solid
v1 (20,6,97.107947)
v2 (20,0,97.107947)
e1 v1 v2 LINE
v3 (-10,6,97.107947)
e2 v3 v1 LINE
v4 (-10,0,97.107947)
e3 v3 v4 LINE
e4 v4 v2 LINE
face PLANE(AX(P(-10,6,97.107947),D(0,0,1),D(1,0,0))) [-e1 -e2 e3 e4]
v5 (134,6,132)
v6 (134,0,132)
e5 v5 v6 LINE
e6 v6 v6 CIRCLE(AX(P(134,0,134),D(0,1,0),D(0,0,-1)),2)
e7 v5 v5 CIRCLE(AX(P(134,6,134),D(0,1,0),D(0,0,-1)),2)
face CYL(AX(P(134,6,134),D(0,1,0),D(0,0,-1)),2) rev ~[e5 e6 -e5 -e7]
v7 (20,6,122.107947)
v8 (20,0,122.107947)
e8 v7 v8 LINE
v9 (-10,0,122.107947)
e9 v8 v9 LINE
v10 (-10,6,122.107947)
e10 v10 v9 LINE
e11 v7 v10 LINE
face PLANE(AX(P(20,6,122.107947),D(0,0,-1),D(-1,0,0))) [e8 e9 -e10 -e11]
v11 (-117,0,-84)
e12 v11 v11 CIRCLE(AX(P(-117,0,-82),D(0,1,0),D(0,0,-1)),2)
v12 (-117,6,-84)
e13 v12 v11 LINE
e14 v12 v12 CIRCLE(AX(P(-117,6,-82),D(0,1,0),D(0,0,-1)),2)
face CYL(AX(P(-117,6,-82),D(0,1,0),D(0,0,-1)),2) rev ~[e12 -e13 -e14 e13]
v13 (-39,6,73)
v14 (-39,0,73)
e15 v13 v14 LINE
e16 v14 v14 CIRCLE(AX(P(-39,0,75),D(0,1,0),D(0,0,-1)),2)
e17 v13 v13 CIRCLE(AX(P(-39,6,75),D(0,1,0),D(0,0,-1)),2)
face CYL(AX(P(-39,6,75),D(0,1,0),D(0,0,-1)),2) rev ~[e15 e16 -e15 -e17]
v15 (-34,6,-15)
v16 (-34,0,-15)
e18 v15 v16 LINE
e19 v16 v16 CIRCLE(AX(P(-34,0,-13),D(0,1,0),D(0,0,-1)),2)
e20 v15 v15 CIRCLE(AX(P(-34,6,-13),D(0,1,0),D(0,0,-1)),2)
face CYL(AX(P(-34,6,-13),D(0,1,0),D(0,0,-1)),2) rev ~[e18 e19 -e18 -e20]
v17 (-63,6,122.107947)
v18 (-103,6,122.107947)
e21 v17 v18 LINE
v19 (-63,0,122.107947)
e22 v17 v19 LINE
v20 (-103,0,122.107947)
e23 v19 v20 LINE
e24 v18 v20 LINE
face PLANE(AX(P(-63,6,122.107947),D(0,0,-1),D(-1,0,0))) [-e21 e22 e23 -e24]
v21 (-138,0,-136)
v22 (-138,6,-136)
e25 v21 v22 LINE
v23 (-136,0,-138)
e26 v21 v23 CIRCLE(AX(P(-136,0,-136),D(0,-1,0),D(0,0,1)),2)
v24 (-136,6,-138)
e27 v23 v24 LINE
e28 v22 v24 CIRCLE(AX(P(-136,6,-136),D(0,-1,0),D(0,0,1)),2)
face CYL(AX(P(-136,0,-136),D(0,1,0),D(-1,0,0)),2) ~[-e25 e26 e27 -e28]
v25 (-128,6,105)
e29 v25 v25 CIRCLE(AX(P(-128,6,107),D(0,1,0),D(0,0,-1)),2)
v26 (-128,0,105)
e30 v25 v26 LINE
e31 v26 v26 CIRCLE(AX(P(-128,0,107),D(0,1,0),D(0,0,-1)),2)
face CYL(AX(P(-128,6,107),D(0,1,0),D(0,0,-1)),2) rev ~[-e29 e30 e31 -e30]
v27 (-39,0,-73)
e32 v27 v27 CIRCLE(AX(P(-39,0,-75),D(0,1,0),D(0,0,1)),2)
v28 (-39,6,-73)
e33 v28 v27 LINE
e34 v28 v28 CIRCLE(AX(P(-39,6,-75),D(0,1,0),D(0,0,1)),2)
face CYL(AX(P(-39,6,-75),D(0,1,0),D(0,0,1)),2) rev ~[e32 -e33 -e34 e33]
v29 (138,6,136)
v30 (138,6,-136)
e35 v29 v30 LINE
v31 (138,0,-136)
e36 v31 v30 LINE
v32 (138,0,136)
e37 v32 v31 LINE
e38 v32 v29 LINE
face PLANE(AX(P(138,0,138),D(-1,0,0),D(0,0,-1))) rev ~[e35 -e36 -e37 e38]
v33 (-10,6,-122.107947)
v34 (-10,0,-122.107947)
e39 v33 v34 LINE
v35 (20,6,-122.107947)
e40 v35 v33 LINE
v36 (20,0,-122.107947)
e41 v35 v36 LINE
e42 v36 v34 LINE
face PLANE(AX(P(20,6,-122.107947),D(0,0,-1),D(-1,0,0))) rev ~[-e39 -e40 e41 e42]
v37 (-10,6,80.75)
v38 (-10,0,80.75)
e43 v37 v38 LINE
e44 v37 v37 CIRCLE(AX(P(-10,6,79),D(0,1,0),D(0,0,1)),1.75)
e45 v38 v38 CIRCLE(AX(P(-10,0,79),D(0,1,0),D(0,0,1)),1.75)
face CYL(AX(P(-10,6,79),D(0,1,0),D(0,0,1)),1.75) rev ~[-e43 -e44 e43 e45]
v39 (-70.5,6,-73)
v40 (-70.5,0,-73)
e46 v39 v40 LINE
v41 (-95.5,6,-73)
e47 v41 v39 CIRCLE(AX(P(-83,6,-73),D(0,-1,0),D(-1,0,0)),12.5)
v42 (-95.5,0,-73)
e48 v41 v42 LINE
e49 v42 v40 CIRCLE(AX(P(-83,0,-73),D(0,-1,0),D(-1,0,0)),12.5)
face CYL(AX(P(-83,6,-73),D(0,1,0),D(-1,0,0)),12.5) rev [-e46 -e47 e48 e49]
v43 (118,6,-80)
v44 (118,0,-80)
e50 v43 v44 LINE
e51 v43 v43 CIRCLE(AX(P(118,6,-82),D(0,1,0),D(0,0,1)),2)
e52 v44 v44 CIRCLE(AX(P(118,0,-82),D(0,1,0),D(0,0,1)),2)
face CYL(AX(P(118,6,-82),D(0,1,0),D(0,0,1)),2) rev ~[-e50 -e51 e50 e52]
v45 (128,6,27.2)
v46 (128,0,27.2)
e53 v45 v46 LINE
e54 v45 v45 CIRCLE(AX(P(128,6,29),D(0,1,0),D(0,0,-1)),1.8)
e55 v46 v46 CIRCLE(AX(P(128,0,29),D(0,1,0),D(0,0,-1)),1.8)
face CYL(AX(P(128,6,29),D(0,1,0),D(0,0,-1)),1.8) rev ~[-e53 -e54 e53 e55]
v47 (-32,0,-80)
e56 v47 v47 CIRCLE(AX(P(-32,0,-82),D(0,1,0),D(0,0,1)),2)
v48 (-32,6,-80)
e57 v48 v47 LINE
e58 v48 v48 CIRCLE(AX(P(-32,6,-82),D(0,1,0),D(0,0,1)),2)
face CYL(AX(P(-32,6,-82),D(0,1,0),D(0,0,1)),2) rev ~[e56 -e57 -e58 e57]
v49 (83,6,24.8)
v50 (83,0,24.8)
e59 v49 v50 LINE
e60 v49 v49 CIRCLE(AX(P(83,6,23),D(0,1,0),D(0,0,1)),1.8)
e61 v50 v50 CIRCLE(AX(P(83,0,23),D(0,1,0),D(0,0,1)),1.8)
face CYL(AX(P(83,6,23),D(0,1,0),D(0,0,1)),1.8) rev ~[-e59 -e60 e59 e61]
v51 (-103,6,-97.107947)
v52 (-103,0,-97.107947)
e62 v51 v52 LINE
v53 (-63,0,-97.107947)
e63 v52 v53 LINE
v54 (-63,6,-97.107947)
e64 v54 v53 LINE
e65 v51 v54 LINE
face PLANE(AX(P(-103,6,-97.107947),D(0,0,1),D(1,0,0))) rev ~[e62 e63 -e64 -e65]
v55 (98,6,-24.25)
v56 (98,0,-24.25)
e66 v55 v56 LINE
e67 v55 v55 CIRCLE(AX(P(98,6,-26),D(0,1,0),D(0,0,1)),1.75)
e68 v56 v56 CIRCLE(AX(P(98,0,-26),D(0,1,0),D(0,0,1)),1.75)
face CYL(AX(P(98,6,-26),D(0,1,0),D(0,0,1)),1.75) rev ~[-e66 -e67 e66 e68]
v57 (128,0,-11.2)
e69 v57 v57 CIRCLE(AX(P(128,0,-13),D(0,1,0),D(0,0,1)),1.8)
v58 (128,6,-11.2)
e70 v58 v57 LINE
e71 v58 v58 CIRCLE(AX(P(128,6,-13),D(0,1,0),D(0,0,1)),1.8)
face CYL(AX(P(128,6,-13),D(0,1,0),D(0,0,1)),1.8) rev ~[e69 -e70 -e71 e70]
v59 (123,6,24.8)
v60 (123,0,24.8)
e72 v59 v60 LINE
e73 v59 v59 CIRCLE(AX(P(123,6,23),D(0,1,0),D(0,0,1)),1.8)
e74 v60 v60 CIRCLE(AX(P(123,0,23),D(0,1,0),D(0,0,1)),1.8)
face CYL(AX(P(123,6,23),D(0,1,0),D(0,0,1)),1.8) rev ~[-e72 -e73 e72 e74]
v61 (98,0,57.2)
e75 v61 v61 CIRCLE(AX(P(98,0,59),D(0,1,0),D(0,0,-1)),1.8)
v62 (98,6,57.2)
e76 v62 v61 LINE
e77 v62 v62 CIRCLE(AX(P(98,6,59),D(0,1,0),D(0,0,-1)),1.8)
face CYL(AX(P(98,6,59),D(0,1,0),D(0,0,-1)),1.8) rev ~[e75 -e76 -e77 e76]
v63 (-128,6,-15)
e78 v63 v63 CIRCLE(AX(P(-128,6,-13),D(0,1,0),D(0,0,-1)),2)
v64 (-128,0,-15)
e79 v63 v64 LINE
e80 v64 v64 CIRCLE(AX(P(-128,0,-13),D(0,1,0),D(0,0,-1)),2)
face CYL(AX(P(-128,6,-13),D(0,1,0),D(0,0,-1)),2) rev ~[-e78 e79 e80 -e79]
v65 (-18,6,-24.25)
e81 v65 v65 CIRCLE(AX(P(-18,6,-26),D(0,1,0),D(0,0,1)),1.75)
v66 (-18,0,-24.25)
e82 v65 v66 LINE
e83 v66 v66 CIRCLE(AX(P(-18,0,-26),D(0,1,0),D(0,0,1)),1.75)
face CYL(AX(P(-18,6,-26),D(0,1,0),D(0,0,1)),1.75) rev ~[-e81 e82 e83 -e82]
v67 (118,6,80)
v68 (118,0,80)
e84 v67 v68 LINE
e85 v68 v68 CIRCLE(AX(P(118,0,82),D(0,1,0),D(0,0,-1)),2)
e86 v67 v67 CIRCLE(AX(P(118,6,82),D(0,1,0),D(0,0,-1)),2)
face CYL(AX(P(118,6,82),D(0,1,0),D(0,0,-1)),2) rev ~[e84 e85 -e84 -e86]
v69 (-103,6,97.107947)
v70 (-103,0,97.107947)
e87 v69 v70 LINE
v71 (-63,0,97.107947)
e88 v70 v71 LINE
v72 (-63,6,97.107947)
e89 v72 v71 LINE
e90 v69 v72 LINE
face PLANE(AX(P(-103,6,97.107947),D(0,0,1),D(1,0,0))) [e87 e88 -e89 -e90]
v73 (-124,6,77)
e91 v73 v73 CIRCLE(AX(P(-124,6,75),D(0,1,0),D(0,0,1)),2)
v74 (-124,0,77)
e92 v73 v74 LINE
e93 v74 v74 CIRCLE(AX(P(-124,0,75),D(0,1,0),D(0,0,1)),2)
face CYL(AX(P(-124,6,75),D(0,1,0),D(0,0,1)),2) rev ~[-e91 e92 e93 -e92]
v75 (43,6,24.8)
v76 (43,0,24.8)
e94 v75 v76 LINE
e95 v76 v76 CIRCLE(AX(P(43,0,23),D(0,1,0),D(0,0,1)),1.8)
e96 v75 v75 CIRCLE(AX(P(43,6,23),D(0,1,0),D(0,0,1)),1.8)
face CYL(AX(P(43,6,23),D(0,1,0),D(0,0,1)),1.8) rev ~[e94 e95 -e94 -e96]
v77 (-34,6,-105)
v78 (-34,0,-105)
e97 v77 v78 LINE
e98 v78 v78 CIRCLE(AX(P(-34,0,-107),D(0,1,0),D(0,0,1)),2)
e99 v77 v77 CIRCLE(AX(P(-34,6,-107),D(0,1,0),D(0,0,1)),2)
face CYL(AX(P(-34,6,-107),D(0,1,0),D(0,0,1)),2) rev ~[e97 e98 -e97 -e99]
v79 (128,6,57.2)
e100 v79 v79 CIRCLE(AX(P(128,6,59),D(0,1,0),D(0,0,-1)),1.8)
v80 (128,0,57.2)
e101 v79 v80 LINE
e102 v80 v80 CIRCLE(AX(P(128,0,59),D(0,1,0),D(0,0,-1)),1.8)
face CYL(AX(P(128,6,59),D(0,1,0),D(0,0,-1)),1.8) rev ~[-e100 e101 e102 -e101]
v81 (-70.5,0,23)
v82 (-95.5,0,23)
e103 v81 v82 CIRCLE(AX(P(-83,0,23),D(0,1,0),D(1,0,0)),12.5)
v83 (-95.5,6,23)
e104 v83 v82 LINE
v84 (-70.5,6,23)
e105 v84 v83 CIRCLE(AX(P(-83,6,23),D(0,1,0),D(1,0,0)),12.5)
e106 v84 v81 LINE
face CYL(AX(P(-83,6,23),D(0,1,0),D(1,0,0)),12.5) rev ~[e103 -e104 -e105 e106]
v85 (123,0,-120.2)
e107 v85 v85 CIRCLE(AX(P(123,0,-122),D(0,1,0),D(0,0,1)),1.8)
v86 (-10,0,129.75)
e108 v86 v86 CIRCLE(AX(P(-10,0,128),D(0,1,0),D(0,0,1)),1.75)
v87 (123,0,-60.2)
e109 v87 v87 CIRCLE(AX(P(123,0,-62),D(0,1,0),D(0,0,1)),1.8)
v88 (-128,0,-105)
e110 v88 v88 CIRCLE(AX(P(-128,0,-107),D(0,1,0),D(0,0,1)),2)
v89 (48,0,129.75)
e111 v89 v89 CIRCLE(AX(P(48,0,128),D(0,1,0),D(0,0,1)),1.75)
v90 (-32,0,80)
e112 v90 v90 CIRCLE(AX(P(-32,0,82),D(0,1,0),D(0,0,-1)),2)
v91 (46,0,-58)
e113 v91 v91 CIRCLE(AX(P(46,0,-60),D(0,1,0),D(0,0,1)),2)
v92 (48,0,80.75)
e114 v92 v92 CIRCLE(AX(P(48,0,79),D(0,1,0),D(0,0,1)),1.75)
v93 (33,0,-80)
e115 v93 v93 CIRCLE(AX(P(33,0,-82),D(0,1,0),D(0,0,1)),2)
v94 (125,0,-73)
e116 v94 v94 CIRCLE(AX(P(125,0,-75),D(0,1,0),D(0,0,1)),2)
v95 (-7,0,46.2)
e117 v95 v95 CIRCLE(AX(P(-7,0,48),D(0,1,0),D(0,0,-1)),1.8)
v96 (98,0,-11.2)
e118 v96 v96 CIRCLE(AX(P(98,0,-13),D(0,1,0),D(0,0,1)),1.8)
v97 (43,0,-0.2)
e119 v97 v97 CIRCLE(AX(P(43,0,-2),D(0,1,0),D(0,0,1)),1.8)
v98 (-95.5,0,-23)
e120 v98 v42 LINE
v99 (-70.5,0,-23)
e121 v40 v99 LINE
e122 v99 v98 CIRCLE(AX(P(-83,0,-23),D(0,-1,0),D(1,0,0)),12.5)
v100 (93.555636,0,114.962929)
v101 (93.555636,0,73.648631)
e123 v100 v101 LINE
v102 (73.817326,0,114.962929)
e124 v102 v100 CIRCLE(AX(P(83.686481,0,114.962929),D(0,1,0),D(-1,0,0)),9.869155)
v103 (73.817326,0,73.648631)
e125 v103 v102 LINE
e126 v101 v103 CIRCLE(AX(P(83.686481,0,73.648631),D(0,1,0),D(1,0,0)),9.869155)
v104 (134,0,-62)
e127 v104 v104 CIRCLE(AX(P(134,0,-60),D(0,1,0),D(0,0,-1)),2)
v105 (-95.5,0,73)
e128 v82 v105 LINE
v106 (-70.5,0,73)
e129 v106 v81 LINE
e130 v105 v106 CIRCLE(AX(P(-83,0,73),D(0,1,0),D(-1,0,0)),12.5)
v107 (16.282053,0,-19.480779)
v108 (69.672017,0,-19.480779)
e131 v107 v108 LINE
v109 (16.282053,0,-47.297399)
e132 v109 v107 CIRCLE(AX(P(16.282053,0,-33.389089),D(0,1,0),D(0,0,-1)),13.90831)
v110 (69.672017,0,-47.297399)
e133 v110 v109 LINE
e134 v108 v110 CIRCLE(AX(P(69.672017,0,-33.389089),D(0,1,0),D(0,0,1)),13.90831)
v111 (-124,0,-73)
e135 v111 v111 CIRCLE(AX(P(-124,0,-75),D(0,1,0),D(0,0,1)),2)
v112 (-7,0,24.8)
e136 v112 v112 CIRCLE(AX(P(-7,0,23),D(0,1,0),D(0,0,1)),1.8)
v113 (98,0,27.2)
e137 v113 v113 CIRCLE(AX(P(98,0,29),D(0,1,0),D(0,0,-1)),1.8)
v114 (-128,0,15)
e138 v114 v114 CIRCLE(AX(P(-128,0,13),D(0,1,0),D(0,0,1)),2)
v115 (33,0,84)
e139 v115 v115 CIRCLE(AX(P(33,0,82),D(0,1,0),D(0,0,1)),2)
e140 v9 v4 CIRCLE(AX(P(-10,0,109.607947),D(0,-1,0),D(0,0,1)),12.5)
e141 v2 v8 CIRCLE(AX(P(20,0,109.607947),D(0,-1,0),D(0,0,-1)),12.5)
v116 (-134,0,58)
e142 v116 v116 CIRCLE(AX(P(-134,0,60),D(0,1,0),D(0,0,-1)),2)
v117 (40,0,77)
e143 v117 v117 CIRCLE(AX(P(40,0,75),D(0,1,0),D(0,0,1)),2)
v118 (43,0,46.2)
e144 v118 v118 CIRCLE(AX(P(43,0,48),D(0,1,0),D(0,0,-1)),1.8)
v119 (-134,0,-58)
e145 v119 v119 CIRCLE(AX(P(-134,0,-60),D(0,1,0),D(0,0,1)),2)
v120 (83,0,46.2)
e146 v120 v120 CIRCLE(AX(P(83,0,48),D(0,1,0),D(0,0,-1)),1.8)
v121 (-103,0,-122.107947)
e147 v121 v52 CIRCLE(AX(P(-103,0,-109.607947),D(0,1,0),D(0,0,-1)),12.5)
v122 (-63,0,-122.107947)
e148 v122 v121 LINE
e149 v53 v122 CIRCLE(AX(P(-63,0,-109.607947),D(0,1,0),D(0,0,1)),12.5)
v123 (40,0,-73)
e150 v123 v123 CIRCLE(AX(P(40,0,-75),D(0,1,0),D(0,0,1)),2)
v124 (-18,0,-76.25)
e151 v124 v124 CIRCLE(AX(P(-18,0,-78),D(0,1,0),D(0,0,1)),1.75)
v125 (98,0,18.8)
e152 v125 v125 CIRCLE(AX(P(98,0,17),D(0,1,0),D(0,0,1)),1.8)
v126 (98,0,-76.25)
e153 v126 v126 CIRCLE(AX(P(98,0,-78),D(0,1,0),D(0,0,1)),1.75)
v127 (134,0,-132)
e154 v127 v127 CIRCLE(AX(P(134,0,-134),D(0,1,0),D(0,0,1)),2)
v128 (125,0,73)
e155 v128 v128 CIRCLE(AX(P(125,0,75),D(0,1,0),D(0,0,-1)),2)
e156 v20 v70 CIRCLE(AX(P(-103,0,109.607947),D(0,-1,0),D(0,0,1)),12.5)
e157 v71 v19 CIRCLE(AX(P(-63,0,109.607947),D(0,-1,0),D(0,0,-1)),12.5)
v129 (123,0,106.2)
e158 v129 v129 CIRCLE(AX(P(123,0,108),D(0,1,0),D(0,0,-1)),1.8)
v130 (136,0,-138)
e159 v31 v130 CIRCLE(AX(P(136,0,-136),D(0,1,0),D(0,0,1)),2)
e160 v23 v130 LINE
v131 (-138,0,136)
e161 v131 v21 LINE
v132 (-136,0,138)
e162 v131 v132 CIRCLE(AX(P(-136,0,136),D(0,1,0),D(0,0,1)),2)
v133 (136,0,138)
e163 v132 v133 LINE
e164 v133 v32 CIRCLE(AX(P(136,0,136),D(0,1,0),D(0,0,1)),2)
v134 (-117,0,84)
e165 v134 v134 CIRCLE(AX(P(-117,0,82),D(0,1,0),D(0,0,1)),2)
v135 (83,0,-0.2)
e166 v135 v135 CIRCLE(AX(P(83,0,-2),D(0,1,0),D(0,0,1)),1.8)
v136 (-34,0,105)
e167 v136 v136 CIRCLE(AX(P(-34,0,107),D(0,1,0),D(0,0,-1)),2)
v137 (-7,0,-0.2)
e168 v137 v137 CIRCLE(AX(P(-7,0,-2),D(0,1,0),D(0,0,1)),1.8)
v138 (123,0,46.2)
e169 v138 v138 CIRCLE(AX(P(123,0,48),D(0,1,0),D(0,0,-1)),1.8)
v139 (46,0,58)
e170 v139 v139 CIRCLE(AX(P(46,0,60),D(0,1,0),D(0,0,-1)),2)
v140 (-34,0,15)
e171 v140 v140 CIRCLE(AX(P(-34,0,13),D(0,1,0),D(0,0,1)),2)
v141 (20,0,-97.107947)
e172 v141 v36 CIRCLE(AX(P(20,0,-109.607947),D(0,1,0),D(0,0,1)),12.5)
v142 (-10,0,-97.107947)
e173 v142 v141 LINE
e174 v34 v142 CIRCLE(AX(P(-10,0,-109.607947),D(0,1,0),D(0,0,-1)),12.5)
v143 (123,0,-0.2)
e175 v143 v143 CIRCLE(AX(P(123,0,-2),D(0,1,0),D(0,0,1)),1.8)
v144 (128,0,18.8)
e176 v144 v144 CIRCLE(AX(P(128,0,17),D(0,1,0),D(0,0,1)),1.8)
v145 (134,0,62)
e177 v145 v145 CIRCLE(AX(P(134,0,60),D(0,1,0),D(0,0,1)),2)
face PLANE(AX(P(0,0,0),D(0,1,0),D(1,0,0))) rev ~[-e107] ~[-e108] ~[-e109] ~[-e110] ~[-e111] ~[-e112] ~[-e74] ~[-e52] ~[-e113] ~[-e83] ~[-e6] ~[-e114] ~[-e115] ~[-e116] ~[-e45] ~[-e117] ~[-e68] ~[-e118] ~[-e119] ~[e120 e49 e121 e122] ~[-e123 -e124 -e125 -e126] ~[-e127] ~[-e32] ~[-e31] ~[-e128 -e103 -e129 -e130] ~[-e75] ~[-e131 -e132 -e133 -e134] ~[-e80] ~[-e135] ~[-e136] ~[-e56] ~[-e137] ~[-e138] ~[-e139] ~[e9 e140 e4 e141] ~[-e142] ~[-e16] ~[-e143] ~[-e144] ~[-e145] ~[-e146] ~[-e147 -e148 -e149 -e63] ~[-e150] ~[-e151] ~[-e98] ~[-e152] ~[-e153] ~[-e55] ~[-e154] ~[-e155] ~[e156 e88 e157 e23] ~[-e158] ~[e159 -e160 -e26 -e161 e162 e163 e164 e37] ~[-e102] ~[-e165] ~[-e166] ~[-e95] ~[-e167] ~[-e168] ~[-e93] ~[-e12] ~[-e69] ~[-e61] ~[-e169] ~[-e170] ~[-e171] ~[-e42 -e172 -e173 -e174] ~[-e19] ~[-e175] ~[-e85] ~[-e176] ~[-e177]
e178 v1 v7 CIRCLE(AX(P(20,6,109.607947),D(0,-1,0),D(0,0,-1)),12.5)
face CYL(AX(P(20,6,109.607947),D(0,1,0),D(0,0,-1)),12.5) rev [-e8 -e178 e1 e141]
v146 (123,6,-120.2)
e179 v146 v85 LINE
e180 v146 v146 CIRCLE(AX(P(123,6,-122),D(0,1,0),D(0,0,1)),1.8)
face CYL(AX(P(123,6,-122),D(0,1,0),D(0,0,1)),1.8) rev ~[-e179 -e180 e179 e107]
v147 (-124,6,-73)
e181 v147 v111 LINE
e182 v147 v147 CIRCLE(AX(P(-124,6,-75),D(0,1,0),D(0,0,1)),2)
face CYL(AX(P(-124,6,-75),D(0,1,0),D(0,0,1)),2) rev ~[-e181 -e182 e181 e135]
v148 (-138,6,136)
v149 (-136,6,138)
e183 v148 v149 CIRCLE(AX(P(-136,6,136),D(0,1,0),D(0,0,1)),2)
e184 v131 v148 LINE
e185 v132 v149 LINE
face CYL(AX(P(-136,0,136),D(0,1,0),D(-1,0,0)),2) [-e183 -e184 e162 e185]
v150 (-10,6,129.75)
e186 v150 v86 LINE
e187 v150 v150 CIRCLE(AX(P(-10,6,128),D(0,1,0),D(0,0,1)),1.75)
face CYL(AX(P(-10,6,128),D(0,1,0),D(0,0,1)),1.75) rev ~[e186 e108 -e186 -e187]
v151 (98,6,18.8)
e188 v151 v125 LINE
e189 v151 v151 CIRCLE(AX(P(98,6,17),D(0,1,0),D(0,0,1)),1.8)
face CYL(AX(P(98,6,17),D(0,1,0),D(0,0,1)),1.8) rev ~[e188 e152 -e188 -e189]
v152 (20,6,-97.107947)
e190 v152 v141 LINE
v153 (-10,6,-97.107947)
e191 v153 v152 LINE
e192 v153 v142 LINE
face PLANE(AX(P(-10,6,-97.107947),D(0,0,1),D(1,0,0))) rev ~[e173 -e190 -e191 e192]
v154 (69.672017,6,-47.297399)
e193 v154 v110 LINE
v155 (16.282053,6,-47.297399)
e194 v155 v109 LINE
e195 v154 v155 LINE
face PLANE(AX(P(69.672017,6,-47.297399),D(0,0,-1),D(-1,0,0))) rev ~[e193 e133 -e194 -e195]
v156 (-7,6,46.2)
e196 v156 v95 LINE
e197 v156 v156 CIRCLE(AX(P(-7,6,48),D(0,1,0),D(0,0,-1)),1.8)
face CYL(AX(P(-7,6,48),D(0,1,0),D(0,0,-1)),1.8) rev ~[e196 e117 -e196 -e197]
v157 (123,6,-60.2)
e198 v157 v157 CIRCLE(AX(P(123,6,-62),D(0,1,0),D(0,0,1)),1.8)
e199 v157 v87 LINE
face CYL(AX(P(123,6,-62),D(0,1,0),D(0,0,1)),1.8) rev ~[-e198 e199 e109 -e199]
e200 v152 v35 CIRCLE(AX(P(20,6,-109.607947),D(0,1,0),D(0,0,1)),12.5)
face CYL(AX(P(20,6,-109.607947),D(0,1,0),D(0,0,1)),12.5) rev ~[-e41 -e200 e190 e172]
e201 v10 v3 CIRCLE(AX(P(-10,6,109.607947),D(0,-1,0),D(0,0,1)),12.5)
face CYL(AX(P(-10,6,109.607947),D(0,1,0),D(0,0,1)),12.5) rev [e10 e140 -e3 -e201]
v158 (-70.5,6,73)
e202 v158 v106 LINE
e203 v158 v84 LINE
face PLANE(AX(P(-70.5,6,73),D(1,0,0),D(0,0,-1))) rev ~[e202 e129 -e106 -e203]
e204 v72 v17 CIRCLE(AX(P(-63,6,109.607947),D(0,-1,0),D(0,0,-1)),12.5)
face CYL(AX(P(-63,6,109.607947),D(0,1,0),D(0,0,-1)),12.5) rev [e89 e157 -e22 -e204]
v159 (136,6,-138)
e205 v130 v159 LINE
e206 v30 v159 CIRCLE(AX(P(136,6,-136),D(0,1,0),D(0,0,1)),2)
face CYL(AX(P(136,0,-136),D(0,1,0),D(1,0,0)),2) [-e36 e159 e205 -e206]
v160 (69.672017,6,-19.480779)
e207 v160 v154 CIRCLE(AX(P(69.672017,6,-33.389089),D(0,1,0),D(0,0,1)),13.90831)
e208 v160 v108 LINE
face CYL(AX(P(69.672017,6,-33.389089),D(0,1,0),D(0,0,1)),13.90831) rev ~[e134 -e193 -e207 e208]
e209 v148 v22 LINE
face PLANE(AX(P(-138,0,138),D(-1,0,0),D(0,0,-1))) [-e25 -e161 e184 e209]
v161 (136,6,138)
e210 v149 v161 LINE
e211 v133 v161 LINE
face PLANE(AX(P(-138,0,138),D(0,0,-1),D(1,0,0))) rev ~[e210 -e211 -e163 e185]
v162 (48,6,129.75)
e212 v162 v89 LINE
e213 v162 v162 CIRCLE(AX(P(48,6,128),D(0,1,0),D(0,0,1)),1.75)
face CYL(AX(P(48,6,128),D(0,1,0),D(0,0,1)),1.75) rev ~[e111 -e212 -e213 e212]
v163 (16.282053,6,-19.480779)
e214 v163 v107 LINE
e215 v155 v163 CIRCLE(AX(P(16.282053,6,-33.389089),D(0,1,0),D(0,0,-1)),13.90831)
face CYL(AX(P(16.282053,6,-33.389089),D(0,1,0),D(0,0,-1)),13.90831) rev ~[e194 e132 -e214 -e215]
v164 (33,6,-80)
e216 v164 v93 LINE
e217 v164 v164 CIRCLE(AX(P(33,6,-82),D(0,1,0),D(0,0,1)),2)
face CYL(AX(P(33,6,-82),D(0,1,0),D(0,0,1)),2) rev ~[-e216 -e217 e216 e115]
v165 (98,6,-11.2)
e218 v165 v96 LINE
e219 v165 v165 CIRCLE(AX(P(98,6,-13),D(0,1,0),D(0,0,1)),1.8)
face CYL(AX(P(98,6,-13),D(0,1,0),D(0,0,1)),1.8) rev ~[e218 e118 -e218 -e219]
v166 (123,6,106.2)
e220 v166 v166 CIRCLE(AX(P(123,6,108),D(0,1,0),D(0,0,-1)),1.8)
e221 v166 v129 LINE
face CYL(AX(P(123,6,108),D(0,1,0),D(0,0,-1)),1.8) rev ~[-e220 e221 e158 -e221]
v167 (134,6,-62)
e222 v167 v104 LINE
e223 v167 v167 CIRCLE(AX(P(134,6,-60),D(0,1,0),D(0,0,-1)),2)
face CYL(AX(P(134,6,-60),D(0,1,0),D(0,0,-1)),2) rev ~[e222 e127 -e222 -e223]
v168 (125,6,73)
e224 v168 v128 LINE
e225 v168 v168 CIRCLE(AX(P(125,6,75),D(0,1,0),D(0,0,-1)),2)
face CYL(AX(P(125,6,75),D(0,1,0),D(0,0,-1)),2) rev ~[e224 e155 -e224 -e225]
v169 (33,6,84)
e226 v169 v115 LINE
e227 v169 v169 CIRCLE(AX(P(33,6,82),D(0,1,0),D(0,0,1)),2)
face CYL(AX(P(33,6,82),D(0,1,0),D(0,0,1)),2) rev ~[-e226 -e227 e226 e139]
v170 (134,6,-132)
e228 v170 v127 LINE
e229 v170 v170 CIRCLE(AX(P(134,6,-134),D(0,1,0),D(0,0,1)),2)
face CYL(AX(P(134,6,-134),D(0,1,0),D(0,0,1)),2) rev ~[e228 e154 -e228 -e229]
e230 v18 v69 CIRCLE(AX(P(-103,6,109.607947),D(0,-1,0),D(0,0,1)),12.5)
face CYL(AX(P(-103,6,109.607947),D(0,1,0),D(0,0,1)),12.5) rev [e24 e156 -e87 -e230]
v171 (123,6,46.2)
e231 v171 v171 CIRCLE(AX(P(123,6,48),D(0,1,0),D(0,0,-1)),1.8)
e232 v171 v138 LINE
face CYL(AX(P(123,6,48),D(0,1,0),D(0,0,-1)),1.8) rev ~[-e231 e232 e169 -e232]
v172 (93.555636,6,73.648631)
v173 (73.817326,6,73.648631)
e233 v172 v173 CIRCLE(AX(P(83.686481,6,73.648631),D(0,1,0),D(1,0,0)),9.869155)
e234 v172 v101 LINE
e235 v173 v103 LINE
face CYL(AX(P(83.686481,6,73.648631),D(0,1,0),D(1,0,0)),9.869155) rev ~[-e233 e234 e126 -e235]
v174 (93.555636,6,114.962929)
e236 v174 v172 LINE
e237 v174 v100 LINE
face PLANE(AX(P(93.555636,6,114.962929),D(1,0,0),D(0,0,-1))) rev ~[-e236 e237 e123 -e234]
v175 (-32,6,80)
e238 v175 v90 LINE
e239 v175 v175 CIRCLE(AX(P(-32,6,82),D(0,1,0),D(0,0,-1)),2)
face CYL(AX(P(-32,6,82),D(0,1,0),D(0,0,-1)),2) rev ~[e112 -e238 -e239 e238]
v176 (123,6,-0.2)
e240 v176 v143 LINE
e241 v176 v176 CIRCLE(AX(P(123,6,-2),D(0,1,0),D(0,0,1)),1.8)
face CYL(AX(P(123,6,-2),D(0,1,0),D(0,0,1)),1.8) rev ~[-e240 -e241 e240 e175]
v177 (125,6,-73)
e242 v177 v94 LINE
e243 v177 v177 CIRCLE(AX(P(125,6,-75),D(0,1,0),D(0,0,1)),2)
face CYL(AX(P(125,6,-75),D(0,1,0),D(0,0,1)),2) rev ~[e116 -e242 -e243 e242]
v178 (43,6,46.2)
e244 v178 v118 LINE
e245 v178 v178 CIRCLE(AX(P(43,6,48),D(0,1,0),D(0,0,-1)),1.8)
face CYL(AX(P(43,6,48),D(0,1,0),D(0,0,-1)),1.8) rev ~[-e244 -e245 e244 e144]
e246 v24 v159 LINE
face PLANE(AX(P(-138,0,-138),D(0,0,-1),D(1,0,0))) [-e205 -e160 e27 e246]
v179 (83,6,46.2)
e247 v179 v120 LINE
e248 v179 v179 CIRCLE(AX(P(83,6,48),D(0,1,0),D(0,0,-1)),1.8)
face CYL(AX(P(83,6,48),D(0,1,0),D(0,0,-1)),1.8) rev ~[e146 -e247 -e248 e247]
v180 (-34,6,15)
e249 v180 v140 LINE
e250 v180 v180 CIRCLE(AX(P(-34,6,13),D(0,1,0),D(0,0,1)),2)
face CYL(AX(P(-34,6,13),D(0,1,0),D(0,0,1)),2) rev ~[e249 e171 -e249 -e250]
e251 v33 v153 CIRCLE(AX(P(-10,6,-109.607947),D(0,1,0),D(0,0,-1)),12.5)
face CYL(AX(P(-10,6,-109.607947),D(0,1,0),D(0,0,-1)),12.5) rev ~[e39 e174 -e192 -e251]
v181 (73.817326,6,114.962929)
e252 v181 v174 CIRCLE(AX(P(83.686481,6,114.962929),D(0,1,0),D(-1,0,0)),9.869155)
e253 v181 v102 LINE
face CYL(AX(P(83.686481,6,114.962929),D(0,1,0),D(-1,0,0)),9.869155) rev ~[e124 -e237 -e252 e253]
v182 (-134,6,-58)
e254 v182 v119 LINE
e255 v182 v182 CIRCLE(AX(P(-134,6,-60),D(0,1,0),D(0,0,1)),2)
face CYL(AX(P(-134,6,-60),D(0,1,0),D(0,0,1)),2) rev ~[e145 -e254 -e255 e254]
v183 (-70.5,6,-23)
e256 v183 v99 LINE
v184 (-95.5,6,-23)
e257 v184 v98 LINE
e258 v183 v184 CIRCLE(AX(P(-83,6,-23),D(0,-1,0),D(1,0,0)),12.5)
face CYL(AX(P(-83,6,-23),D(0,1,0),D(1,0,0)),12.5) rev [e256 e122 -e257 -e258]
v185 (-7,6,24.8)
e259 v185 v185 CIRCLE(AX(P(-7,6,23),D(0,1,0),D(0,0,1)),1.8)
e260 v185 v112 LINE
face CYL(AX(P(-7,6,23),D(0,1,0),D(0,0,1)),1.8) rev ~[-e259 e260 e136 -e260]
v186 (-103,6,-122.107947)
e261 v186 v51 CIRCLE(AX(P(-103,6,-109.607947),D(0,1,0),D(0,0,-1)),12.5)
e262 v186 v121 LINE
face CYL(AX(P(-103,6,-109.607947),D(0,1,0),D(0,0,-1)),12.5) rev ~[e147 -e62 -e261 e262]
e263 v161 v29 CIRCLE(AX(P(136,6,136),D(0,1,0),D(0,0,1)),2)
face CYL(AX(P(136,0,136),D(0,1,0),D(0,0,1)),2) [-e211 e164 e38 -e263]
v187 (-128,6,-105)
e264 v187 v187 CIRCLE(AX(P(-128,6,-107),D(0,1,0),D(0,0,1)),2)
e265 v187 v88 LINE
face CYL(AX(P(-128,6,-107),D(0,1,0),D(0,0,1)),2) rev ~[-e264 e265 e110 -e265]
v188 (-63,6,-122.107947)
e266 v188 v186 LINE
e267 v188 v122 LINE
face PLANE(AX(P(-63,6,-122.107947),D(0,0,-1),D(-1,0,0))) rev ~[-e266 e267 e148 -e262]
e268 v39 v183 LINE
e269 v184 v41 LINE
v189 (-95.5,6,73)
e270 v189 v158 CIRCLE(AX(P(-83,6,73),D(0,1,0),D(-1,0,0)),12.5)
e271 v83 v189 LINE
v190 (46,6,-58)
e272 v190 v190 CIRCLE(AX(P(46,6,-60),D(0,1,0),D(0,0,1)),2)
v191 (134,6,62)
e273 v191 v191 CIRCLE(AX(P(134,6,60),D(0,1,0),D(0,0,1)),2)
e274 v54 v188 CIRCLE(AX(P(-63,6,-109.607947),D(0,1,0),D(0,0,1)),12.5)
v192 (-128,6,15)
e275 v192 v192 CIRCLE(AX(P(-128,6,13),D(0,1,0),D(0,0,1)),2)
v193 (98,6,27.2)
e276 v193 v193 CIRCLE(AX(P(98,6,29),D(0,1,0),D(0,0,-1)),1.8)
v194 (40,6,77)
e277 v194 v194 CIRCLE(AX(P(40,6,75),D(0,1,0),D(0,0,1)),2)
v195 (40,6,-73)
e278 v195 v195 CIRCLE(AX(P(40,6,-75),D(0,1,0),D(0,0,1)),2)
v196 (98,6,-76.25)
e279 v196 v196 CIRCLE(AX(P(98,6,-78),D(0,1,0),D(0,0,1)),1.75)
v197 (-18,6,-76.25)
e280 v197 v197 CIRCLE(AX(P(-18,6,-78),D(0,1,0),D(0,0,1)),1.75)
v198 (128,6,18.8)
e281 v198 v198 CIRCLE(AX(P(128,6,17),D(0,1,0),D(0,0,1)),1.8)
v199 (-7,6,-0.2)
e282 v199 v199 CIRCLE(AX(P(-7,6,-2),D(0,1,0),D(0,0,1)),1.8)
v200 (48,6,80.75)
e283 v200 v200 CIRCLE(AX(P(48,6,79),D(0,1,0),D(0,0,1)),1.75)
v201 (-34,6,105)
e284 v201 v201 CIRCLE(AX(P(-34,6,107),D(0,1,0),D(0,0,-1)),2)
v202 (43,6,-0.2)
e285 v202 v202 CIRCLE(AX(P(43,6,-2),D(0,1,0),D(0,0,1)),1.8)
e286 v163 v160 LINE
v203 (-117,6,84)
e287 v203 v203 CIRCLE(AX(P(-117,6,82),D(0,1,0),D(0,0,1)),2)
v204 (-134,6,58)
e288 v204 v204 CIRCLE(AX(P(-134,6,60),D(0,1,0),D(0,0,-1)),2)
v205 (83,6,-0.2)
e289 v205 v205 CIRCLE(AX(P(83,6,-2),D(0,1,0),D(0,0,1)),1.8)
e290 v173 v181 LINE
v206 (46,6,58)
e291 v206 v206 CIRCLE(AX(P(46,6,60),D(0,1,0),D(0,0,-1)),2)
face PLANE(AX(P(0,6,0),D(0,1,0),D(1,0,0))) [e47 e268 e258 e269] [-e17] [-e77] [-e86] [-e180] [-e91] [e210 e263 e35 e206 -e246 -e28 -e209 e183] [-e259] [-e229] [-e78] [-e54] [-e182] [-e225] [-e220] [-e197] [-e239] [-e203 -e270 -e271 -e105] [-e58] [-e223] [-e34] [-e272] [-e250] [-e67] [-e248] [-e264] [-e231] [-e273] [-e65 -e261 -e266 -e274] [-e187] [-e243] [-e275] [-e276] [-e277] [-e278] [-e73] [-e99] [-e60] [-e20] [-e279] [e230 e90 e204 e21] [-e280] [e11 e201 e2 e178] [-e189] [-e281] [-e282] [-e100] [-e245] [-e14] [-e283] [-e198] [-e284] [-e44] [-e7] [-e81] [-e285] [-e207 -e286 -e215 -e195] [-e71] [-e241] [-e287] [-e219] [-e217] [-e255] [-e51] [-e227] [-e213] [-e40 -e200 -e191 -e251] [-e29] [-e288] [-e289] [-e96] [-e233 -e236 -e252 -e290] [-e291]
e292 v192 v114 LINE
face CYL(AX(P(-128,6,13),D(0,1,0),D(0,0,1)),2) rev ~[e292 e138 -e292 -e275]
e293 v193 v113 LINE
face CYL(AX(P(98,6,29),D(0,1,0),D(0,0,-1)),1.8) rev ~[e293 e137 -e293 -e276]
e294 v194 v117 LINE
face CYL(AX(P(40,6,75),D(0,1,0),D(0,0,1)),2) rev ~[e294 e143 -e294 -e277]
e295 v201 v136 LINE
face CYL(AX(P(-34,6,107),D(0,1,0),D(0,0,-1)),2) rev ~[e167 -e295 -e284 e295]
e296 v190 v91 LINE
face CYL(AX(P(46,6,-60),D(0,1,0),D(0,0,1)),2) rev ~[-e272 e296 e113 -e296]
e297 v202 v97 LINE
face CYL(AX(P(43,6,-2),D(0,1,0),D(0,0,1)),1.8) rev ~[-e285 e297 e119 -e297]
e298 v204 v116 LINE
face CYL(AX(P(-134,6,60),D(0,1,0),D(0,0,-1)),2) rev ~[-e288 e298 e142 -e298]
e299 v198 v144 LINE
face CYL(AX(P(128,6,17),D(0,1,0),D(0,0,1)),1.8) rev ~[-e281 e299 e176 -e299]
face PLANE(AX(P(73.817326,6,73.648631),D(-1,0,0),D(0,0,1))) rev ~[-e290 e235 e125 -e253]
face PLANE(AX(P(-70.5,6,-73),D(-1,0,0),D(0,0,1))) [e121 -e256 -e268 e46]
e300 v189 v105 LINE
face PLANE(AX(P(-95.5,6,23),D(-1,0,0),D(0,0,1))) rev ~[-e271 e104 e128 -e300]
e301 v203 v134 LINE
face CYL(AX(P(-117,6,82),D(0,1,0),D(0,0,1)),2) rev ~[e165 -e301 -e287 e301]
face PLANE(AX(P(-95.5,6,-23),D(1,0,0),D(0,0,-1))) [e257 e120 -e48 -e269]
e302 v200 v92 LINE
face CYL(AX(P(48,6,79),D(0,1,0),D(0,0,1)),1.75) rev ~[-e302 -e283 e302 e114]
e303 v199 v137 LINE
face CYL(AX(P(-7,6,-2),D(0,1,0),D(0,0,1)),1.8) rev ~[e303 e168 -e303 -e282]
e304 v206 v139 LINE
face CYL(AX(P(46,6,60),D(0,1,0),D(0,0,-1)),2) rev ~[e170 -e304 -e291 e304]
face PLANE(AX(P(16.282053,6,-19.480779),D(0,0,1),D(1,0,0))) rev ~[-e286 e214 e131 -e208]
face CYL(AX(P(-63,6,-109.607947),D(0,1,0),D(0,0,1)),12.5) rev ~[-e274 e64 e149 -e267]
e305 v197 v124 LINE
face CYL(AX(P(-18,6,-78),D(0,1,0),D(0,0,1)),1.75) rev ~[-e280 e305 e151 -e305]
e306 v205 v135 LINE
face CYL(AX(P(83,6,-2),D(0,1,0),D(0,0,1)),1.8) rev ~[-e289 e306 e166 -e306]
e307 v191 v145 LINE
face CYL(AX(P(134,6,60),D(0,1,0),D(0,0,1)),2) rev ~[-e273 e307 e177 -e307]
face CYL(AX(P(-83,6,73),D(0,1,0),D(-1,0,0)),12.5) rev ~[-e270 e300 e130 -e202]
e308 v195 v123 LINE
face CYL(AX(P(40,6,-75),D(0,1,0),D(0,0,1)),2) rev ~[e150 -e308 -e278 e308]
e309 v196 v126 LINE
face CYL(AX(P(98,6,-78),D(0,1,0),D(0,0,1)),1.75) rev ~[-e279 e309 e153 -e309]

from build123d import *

# Parameters (mm, degrees)
SKETCH_1_W                = 276
SKETCH_1_H                = 276
EXTRUDE_1_DEPTH           = 6
FILLET_1_R                = 2
SKETCH_2_R                = 2
CUT_EXTRUDE_1_DEPTH       = 6
SKETCH_3_R                = 2
CUT_EXTRUDE_150_164_DEPTH = 6
SKETCH_4_R                = 2
CUT_EXTRUDE_94_94_DEPTH   = 6
SKETCH_7_R                = 1.75
JETSON_DEPTH              = 6
SKETCH_8_R                = 1.75
CUT_EXTRUDE_7_DEPTH       = 6
SKETCH_9_R                = 1.8
CUT_EXTRUDE_8_DEPTH       = 6
CUT_EXTRUDE_5_DEPTH       = 6


with BuildPart() as part:
    # Эскиз1 → Бобышка-Вытянуть1 (new body)
    with BuildSketch(Plane(origin=(0, 0, 0), x_dir=(1, 0, 0), z_dir=(0, 1, 0))):
        Rectangle(SKETCH_1_W, SKETCH_1_H)
    extrude(amount=EXTRUDE_1_DEPTH)

    # Скругление1
    fillet_1_edges = [part.edges().sort_by_distance(p)[0] for p in [
        (138, 3, 138),
        (-138, 3, 138),
        (-138, 3, -138),
        (138, 3, -138),
    ]]
    fillet(fillet_1_edges, radius=FILLET_1_R)

    # Эскиз2 → Вырез-Вытянуть1 (cut)
    with BuildSketch(Plane(origin=(0, 6, 0), x_dir=(1, 0, 0), z_dir=(0, 1, 0))):
        with Locations(Location((-134, 60, 0), (0, 0, 270))):
            Circle(SKETCH_2_R)
        with Locations(Location((134, 60, 0), (0, 0, 90))):
            Circle(SKETCH_2_R)
        with Locations(Location((134, -60, 0), (0, 0, 270))):
            Circle(SKETCH_2_R)
        with Locations(Location((-134, -60, 0), (0, 0, 90))):
            Circle(SKETCH_2_R)
        with Locations(Location((46, 60, 0), (0, 0, 270))):
            Circle(SKETCH_2_R)
        with Locations(Location((46, -60, 0), (0, 0, 90))):
            Circle(SKETCH_2_R)
        with Locations(Location((134, 134, 0), (0, 0, 270))):
            Circle(SKETCH_2_R)
        with Locations(Location((134, -134, 0), (0, 0, 90))):
            Circle(SKETCH_2_R)
    extrude(amount=-CUT_EXTRUDE_1_DEPTH, mode=Mode.SUBTRACT)

    # Эскиз3 → 150х164 (cut)
    with BuildSketch(Plane(origin=(0, 6, 0), x_dir=(1, 0, 0), z_dir=(0, 1, 0))):
        with Locations(Location((-32, 82, 0), (0, 0, 270))):
            Circle(SKETCH_3_R)
        with Locations(Location((118, 82, 0), (0, 0, 270))):
            Circle(SKETCH_3_R)
        with Locations(Location((125, 75, 0), (0, 0, 270))):
            Circle(SKETCH_3_R)
        with Locations(Location((-39, 75, 0), (0, 0, 270))):
            Circle(SKETCH_3_R)
        with Locations(Location((118, -82, 0), (0, 0, 90))):
            Circle(SKETCH_3_R)
        with Locations(Location((125, -75, 0), (0, 0, 90))):
            Circle(SKETCH_3_R)
        with Locations(Location((-32, -82, 0), (0, 0, 90))):
            Circle(SKETCH_3_R)
        with Locations(Location((-39, -75, 0), (0, 0, 90))):
            Circle(SKETCH_3_R)
        with Locations(Location((-124, 75, 0), (0, 0, 270))):
            Circle(SKETCH_3_R)
        with Locations(Location((40, 75, 0), (0, 0, 270))):
            Circle(SKETCH_3_R)
        with Locations(Location((33, 82, 0), (0, 0, 270))):
            Circle(SKETCH_3_R)
        with Locations(Location((40, -75, 0), (0, 0, 270))):
            Circle(SKETCH_3_R)
        with Locations(Location((33, -82, 0), (0, 0, 270))):
            Circle(SKETCH_3_R)
        with Locations(Location((-117, -82, 0), (0, 0, 270))):
            Circle(SKETCH_3_R)
        with Locations(Location((-124, -75, 0), (0, 0, 270))):
            Circle(SKETCH_3_R)
        with Locations(Location((-117, 82, 0), (0, 0, 90))):
            Circle(SKETCH_3_R)
    extrude(amount=-CUT_EXTRUDE_150_164_DEPTH, mode=Mode.SUBTRACT)

    # Эскиз4 → 94х94 (cut)
    with BuildSketch(Plane(origin=(0, 6, 0), x_dir=(1, 0, 0), z_dir=(0, 1, 0))):
        with Locations(Location((-128, 107, 0), (0, 0, 270))):
            Circle(SKETCH_4_R)
        with Locations(Location((-34, 107, 0), (0, 0, 270))):
            Circle(SKETCH_4_R)
        with Locations(Location((-34, 13, 0), (0, 0, 90))):
            Circle(SKETCH_4_R)
        with Locations(Location((-128, 13, 0), (0, 0, 90))):
            Circle(SKETCH_4_R)
        with Locations(Location((-128, -13, 0), (0, 0, 270))):
            Circle(SKETCH_4_R)
        with Locations(Location((-34, -13, 0), (0, 0, 270))):
            Circle(SKETCH_4_R)
        with Locations(Location((-34, -107, 0), (0, 0, 90))):
            Circle(SKETCH_4_R)
        with Locations(Location((-128, -107, 0), (0, 0, 90))):
            Circle(SKETCH_4_R)
    extrude(amount=-CUT_EXTRUDE_94_94_DEPTH, mode=Mode.SUBTRACT)

    # Эскиз7 → Jetson (cut)
    with BuildSketch(Plane(origin=(0, 6, 0), x_dir=(1, 0, 0), z_dir=(0, 1, 0))):
        with Locations(Location((-18, 78, 0), (0, 0, 270))):
            Circle(SKETCH_7_R)
        with Locations(Location((-18, 26, 0), (0, 0, 270))):
            Circle(SKETCH_7_R)
        with Locations(Location((98, 78, 0), (0, 0, 270))):
            Circle(SKETCH_7_R)
        with Locations(Location((98, 26, 0), (0, 0, 270))):
            Circle(SKETCH_7_R)
    extrude(amount=-JETSON_DEPTH, mode=Mode.SUBTRACT)

    # Эскиз8 → Вырез-Вытянуть7 (cut)
    with BuildSketch(Plane(origin=(0, 6, 0), x_dir=(1, 0, 0), z_dir=(0, 1, 0))):
        with Locations(Location((48, -79, 0), (0, 0, 270))):
            Circle(SKETCH_8_R)
        with Locations(Location((-10, -79, 0), (0, 0, 270))):
            Circle(SKETCH_8_R)
        with Locations(Location((-10, -128, 0), (0, 0, 270))):
            Circle(SKETCH_8_R)
        with Locations(Location((48, -128, 0), (0, 0, 270))):
            Circle(SKETCH_8_R)
    extrude(amount=-CUT_EXTRUDE_7_DEPTH, mode=Mode.SUBTRACT)

    # Эскиз9 → Вырез-Вытянуть8 (cut)
    with BuildSketch(Plane(origin=(0, 6, 0), x_dir=(1, 0, 0), z_dir=(0, 1, 0))):
        with Locations(Location((-7, 2, 0), (0, 0, 270))):
            Circle(SKETCH_9_R)
        with Locations(Location((43, 2, 0), (0, 0, 270))):
            Circle(SKETCH_9_R)
        with Locations(Location((83, 2, 0), (0, 0, 270))):
            Circle(SKETCH_9_R)
        with Locations(Location((123, 2, 0), (0, 0, 270))):
            Circle(SKETCH_9_R)
        with Locations(Location((123, -48, 0), (0, 0, 90))):
            Circle(SKETCH_9_R)
        with Locations(Location((83, -48, 0), (0, 0, 90))):
            Circle(SKETCH_9_R)
        with Locations(Location((43, -48, 0), (0, 0, 90))):
            Circle(SKETCH_9_R)
        with Locations(Location((-7, -48, 0), (0, 0, 90))):
            Circle(SKETCH_9_R)
        with Locations(Location((43, -23, 0), (0, 0, 270))):
            Circle(SKETCH_9_R)
        with Locations(Location((-7, -23, 0), (0, 0, 270))):
            Circle(SKETCH_9_R)
        with Locations(Location((83, -23, 0), (0, 0, 270))):
            Circle(SKETCH_9_R)
        with Locations(Location((123, -23, 0), (0, 0, 270))):
            Circle(SKETCH_9_R)
        with Locations(Location((123, 62, 0), (0, 0, 270))):
            Circle(SKETCH_9_R)
        with Locations(Location((123, 122, 0), (0, 0, 270))):
            Circle(SKETCH_9_R)
        with Locations(Location((123, -108, 0), (0, 0, 90))):
            Circle(SKETCH_9_R)
        with Locations(Location((98, 13, 0), (0, 0, 270))):
            Circle(SKETCH_9_R)
        with Locations(Location((128, 13, 0), (0, 0, 270))):
            Circle(SKETCH_9_R)
        with Locations(Location((98, -17, 0), (0, 0, 270))):
            Circle(SKETCH_9_R)
        with Locations(Location((128, -17, 0), (0, 0, 270))):
            Circle(SKETCH_9_R)
        with Locations(Location((98, -29, 0), (0, 0, 90))):
            Circle(SKETCH_9_R)
        with Locations(Location((128, -29, 0), (0, 0, 90))):
            Circle(SKETCH_9_R)
        with Locations(Location((128, -59, 0), (0, 0, 90))):
            Circle(SKETCH_9_R)
        with Locations(Location((98, -59, 0), (0, 0, 90))):
            Circle(SKETCH_9_R)
    extrude(amount=-CUT_EXTRUDE_8_DEPTH, mode=Mode.SUBTRACT)

    # Эскиз6 → Вырез-Вытянуть5 (cut)
    with BuildSketch(Plane(origin=(0, 6, 0), x_dir=(1, 0, 0), z_dir=(0, 1, 0))):
        with BuildLine():
            Line((-103, 97.107947115), (-63, 97.107947115))
            ThreePointArc((-63, 97.107947115), (-50.5, 109.607947115), (-63, 122.107947115))
            Line((-63, 122.107947115), (-103, 122.107947115))
            ThreePointArc((-103, 122.107947115), (-115.5, 109.607947115), (-103, 97.107947115))
        make_face()
        with BuildLine():
            ThreePointArc((-70.5, 23), (-83, 10.5), (-95.5, 23))
            Line((-95.5, 23), (-95.5, 73))
            ThreePointArc((-95.5, 73), (-83, 85.5), (-70.5, 73))
            Line((-70.5, 73), (-70.5, 23))
        make_face()
        with BuildLine():
            Line((-70.5, -73), (-70.5, -23))
            ThreePointArc((-70.5, -23), (-83, -10.5), (-95.5, -23))
            Line((-95.5, -23), (-95.5, -73))
            ThreePointArc((-95.5, -73), (-83, -85.5), (-70.5, -73))
        make_face()
        with BuildLine():
            ThreePointArc((-63, -97.107947115), (-50.5, -109.607947115), (-63, -122.107947115))
            Line((-63, -122.107947115), (-103, -122.107947115))
            ThreePointArc((-103, -122.107947115), (-115.5, -109.607947115), (-103, -97.107947115))
            Line((-103, -97.107947115), (-63, -97.107947115))
        make_face()
        with BuildLine():
            Line((16.282052685, 19.480778886), (69.672016653, 19.480778886))
            ThreePointArc((69.672016653, 19.480778886), (83.580326595, 33.389088828), (69.672016653, 47.297398769))
            Line((69.672016653, 47.297398769), (16.282052685, 47.297398769))
            ThreePointArc((16.282052685, 47.297398769), (2.373742744, 33.389088828), (16.282052685, 19.480778886))
        make_face()
        with BuildLine():
            Line((73.817325583, -73.648631168), (73.817325583, -114.962929045))
            ThreePointArc((73.817325583, -114.962929045), (83.686480688, -124.832084149), (93.555635792, -114.962929045))
            Line((93.555635792, -114.962929045), (93.555635792, -73.648631168))
            ThreePointArc((93.555635792, -73.648631168), (83.686480688, -63.779476064), (73.817325583, -73.648631168))
        make_face()
        with BuildLine():
            ThreePointArc((20, -97.107947115), (32.5, -109.607947115), (20, -122.107947115))
            Line((20, -122.107947115), (-10, -122.107947115))
            ThreePointArc((-10, -122.107947115), (-22.5, -109.607947115), (-10, -97.107947115))
            Line((-10, -97.107947115), (20, -97.107947115))
        make_face()
        with BuildLine():
            Line((-10, 97.107947115), (20, 97.107947115))
            ThreePointArc((20, 97.107947115), (32.5, 109.607947115), (20, 122.107947115))
            Line((20, 122.107947115), (-10, 122.107947115))
            ThreePointArc((-10, 122.107947115), (-22.5, 109.607947115), (-10, 97.107947115))
        make_face()
    extrude(amount=-CUT_EXTRUDE_5_DEPTH, mode=Mode.SUBTRACT)


solid = part.part
